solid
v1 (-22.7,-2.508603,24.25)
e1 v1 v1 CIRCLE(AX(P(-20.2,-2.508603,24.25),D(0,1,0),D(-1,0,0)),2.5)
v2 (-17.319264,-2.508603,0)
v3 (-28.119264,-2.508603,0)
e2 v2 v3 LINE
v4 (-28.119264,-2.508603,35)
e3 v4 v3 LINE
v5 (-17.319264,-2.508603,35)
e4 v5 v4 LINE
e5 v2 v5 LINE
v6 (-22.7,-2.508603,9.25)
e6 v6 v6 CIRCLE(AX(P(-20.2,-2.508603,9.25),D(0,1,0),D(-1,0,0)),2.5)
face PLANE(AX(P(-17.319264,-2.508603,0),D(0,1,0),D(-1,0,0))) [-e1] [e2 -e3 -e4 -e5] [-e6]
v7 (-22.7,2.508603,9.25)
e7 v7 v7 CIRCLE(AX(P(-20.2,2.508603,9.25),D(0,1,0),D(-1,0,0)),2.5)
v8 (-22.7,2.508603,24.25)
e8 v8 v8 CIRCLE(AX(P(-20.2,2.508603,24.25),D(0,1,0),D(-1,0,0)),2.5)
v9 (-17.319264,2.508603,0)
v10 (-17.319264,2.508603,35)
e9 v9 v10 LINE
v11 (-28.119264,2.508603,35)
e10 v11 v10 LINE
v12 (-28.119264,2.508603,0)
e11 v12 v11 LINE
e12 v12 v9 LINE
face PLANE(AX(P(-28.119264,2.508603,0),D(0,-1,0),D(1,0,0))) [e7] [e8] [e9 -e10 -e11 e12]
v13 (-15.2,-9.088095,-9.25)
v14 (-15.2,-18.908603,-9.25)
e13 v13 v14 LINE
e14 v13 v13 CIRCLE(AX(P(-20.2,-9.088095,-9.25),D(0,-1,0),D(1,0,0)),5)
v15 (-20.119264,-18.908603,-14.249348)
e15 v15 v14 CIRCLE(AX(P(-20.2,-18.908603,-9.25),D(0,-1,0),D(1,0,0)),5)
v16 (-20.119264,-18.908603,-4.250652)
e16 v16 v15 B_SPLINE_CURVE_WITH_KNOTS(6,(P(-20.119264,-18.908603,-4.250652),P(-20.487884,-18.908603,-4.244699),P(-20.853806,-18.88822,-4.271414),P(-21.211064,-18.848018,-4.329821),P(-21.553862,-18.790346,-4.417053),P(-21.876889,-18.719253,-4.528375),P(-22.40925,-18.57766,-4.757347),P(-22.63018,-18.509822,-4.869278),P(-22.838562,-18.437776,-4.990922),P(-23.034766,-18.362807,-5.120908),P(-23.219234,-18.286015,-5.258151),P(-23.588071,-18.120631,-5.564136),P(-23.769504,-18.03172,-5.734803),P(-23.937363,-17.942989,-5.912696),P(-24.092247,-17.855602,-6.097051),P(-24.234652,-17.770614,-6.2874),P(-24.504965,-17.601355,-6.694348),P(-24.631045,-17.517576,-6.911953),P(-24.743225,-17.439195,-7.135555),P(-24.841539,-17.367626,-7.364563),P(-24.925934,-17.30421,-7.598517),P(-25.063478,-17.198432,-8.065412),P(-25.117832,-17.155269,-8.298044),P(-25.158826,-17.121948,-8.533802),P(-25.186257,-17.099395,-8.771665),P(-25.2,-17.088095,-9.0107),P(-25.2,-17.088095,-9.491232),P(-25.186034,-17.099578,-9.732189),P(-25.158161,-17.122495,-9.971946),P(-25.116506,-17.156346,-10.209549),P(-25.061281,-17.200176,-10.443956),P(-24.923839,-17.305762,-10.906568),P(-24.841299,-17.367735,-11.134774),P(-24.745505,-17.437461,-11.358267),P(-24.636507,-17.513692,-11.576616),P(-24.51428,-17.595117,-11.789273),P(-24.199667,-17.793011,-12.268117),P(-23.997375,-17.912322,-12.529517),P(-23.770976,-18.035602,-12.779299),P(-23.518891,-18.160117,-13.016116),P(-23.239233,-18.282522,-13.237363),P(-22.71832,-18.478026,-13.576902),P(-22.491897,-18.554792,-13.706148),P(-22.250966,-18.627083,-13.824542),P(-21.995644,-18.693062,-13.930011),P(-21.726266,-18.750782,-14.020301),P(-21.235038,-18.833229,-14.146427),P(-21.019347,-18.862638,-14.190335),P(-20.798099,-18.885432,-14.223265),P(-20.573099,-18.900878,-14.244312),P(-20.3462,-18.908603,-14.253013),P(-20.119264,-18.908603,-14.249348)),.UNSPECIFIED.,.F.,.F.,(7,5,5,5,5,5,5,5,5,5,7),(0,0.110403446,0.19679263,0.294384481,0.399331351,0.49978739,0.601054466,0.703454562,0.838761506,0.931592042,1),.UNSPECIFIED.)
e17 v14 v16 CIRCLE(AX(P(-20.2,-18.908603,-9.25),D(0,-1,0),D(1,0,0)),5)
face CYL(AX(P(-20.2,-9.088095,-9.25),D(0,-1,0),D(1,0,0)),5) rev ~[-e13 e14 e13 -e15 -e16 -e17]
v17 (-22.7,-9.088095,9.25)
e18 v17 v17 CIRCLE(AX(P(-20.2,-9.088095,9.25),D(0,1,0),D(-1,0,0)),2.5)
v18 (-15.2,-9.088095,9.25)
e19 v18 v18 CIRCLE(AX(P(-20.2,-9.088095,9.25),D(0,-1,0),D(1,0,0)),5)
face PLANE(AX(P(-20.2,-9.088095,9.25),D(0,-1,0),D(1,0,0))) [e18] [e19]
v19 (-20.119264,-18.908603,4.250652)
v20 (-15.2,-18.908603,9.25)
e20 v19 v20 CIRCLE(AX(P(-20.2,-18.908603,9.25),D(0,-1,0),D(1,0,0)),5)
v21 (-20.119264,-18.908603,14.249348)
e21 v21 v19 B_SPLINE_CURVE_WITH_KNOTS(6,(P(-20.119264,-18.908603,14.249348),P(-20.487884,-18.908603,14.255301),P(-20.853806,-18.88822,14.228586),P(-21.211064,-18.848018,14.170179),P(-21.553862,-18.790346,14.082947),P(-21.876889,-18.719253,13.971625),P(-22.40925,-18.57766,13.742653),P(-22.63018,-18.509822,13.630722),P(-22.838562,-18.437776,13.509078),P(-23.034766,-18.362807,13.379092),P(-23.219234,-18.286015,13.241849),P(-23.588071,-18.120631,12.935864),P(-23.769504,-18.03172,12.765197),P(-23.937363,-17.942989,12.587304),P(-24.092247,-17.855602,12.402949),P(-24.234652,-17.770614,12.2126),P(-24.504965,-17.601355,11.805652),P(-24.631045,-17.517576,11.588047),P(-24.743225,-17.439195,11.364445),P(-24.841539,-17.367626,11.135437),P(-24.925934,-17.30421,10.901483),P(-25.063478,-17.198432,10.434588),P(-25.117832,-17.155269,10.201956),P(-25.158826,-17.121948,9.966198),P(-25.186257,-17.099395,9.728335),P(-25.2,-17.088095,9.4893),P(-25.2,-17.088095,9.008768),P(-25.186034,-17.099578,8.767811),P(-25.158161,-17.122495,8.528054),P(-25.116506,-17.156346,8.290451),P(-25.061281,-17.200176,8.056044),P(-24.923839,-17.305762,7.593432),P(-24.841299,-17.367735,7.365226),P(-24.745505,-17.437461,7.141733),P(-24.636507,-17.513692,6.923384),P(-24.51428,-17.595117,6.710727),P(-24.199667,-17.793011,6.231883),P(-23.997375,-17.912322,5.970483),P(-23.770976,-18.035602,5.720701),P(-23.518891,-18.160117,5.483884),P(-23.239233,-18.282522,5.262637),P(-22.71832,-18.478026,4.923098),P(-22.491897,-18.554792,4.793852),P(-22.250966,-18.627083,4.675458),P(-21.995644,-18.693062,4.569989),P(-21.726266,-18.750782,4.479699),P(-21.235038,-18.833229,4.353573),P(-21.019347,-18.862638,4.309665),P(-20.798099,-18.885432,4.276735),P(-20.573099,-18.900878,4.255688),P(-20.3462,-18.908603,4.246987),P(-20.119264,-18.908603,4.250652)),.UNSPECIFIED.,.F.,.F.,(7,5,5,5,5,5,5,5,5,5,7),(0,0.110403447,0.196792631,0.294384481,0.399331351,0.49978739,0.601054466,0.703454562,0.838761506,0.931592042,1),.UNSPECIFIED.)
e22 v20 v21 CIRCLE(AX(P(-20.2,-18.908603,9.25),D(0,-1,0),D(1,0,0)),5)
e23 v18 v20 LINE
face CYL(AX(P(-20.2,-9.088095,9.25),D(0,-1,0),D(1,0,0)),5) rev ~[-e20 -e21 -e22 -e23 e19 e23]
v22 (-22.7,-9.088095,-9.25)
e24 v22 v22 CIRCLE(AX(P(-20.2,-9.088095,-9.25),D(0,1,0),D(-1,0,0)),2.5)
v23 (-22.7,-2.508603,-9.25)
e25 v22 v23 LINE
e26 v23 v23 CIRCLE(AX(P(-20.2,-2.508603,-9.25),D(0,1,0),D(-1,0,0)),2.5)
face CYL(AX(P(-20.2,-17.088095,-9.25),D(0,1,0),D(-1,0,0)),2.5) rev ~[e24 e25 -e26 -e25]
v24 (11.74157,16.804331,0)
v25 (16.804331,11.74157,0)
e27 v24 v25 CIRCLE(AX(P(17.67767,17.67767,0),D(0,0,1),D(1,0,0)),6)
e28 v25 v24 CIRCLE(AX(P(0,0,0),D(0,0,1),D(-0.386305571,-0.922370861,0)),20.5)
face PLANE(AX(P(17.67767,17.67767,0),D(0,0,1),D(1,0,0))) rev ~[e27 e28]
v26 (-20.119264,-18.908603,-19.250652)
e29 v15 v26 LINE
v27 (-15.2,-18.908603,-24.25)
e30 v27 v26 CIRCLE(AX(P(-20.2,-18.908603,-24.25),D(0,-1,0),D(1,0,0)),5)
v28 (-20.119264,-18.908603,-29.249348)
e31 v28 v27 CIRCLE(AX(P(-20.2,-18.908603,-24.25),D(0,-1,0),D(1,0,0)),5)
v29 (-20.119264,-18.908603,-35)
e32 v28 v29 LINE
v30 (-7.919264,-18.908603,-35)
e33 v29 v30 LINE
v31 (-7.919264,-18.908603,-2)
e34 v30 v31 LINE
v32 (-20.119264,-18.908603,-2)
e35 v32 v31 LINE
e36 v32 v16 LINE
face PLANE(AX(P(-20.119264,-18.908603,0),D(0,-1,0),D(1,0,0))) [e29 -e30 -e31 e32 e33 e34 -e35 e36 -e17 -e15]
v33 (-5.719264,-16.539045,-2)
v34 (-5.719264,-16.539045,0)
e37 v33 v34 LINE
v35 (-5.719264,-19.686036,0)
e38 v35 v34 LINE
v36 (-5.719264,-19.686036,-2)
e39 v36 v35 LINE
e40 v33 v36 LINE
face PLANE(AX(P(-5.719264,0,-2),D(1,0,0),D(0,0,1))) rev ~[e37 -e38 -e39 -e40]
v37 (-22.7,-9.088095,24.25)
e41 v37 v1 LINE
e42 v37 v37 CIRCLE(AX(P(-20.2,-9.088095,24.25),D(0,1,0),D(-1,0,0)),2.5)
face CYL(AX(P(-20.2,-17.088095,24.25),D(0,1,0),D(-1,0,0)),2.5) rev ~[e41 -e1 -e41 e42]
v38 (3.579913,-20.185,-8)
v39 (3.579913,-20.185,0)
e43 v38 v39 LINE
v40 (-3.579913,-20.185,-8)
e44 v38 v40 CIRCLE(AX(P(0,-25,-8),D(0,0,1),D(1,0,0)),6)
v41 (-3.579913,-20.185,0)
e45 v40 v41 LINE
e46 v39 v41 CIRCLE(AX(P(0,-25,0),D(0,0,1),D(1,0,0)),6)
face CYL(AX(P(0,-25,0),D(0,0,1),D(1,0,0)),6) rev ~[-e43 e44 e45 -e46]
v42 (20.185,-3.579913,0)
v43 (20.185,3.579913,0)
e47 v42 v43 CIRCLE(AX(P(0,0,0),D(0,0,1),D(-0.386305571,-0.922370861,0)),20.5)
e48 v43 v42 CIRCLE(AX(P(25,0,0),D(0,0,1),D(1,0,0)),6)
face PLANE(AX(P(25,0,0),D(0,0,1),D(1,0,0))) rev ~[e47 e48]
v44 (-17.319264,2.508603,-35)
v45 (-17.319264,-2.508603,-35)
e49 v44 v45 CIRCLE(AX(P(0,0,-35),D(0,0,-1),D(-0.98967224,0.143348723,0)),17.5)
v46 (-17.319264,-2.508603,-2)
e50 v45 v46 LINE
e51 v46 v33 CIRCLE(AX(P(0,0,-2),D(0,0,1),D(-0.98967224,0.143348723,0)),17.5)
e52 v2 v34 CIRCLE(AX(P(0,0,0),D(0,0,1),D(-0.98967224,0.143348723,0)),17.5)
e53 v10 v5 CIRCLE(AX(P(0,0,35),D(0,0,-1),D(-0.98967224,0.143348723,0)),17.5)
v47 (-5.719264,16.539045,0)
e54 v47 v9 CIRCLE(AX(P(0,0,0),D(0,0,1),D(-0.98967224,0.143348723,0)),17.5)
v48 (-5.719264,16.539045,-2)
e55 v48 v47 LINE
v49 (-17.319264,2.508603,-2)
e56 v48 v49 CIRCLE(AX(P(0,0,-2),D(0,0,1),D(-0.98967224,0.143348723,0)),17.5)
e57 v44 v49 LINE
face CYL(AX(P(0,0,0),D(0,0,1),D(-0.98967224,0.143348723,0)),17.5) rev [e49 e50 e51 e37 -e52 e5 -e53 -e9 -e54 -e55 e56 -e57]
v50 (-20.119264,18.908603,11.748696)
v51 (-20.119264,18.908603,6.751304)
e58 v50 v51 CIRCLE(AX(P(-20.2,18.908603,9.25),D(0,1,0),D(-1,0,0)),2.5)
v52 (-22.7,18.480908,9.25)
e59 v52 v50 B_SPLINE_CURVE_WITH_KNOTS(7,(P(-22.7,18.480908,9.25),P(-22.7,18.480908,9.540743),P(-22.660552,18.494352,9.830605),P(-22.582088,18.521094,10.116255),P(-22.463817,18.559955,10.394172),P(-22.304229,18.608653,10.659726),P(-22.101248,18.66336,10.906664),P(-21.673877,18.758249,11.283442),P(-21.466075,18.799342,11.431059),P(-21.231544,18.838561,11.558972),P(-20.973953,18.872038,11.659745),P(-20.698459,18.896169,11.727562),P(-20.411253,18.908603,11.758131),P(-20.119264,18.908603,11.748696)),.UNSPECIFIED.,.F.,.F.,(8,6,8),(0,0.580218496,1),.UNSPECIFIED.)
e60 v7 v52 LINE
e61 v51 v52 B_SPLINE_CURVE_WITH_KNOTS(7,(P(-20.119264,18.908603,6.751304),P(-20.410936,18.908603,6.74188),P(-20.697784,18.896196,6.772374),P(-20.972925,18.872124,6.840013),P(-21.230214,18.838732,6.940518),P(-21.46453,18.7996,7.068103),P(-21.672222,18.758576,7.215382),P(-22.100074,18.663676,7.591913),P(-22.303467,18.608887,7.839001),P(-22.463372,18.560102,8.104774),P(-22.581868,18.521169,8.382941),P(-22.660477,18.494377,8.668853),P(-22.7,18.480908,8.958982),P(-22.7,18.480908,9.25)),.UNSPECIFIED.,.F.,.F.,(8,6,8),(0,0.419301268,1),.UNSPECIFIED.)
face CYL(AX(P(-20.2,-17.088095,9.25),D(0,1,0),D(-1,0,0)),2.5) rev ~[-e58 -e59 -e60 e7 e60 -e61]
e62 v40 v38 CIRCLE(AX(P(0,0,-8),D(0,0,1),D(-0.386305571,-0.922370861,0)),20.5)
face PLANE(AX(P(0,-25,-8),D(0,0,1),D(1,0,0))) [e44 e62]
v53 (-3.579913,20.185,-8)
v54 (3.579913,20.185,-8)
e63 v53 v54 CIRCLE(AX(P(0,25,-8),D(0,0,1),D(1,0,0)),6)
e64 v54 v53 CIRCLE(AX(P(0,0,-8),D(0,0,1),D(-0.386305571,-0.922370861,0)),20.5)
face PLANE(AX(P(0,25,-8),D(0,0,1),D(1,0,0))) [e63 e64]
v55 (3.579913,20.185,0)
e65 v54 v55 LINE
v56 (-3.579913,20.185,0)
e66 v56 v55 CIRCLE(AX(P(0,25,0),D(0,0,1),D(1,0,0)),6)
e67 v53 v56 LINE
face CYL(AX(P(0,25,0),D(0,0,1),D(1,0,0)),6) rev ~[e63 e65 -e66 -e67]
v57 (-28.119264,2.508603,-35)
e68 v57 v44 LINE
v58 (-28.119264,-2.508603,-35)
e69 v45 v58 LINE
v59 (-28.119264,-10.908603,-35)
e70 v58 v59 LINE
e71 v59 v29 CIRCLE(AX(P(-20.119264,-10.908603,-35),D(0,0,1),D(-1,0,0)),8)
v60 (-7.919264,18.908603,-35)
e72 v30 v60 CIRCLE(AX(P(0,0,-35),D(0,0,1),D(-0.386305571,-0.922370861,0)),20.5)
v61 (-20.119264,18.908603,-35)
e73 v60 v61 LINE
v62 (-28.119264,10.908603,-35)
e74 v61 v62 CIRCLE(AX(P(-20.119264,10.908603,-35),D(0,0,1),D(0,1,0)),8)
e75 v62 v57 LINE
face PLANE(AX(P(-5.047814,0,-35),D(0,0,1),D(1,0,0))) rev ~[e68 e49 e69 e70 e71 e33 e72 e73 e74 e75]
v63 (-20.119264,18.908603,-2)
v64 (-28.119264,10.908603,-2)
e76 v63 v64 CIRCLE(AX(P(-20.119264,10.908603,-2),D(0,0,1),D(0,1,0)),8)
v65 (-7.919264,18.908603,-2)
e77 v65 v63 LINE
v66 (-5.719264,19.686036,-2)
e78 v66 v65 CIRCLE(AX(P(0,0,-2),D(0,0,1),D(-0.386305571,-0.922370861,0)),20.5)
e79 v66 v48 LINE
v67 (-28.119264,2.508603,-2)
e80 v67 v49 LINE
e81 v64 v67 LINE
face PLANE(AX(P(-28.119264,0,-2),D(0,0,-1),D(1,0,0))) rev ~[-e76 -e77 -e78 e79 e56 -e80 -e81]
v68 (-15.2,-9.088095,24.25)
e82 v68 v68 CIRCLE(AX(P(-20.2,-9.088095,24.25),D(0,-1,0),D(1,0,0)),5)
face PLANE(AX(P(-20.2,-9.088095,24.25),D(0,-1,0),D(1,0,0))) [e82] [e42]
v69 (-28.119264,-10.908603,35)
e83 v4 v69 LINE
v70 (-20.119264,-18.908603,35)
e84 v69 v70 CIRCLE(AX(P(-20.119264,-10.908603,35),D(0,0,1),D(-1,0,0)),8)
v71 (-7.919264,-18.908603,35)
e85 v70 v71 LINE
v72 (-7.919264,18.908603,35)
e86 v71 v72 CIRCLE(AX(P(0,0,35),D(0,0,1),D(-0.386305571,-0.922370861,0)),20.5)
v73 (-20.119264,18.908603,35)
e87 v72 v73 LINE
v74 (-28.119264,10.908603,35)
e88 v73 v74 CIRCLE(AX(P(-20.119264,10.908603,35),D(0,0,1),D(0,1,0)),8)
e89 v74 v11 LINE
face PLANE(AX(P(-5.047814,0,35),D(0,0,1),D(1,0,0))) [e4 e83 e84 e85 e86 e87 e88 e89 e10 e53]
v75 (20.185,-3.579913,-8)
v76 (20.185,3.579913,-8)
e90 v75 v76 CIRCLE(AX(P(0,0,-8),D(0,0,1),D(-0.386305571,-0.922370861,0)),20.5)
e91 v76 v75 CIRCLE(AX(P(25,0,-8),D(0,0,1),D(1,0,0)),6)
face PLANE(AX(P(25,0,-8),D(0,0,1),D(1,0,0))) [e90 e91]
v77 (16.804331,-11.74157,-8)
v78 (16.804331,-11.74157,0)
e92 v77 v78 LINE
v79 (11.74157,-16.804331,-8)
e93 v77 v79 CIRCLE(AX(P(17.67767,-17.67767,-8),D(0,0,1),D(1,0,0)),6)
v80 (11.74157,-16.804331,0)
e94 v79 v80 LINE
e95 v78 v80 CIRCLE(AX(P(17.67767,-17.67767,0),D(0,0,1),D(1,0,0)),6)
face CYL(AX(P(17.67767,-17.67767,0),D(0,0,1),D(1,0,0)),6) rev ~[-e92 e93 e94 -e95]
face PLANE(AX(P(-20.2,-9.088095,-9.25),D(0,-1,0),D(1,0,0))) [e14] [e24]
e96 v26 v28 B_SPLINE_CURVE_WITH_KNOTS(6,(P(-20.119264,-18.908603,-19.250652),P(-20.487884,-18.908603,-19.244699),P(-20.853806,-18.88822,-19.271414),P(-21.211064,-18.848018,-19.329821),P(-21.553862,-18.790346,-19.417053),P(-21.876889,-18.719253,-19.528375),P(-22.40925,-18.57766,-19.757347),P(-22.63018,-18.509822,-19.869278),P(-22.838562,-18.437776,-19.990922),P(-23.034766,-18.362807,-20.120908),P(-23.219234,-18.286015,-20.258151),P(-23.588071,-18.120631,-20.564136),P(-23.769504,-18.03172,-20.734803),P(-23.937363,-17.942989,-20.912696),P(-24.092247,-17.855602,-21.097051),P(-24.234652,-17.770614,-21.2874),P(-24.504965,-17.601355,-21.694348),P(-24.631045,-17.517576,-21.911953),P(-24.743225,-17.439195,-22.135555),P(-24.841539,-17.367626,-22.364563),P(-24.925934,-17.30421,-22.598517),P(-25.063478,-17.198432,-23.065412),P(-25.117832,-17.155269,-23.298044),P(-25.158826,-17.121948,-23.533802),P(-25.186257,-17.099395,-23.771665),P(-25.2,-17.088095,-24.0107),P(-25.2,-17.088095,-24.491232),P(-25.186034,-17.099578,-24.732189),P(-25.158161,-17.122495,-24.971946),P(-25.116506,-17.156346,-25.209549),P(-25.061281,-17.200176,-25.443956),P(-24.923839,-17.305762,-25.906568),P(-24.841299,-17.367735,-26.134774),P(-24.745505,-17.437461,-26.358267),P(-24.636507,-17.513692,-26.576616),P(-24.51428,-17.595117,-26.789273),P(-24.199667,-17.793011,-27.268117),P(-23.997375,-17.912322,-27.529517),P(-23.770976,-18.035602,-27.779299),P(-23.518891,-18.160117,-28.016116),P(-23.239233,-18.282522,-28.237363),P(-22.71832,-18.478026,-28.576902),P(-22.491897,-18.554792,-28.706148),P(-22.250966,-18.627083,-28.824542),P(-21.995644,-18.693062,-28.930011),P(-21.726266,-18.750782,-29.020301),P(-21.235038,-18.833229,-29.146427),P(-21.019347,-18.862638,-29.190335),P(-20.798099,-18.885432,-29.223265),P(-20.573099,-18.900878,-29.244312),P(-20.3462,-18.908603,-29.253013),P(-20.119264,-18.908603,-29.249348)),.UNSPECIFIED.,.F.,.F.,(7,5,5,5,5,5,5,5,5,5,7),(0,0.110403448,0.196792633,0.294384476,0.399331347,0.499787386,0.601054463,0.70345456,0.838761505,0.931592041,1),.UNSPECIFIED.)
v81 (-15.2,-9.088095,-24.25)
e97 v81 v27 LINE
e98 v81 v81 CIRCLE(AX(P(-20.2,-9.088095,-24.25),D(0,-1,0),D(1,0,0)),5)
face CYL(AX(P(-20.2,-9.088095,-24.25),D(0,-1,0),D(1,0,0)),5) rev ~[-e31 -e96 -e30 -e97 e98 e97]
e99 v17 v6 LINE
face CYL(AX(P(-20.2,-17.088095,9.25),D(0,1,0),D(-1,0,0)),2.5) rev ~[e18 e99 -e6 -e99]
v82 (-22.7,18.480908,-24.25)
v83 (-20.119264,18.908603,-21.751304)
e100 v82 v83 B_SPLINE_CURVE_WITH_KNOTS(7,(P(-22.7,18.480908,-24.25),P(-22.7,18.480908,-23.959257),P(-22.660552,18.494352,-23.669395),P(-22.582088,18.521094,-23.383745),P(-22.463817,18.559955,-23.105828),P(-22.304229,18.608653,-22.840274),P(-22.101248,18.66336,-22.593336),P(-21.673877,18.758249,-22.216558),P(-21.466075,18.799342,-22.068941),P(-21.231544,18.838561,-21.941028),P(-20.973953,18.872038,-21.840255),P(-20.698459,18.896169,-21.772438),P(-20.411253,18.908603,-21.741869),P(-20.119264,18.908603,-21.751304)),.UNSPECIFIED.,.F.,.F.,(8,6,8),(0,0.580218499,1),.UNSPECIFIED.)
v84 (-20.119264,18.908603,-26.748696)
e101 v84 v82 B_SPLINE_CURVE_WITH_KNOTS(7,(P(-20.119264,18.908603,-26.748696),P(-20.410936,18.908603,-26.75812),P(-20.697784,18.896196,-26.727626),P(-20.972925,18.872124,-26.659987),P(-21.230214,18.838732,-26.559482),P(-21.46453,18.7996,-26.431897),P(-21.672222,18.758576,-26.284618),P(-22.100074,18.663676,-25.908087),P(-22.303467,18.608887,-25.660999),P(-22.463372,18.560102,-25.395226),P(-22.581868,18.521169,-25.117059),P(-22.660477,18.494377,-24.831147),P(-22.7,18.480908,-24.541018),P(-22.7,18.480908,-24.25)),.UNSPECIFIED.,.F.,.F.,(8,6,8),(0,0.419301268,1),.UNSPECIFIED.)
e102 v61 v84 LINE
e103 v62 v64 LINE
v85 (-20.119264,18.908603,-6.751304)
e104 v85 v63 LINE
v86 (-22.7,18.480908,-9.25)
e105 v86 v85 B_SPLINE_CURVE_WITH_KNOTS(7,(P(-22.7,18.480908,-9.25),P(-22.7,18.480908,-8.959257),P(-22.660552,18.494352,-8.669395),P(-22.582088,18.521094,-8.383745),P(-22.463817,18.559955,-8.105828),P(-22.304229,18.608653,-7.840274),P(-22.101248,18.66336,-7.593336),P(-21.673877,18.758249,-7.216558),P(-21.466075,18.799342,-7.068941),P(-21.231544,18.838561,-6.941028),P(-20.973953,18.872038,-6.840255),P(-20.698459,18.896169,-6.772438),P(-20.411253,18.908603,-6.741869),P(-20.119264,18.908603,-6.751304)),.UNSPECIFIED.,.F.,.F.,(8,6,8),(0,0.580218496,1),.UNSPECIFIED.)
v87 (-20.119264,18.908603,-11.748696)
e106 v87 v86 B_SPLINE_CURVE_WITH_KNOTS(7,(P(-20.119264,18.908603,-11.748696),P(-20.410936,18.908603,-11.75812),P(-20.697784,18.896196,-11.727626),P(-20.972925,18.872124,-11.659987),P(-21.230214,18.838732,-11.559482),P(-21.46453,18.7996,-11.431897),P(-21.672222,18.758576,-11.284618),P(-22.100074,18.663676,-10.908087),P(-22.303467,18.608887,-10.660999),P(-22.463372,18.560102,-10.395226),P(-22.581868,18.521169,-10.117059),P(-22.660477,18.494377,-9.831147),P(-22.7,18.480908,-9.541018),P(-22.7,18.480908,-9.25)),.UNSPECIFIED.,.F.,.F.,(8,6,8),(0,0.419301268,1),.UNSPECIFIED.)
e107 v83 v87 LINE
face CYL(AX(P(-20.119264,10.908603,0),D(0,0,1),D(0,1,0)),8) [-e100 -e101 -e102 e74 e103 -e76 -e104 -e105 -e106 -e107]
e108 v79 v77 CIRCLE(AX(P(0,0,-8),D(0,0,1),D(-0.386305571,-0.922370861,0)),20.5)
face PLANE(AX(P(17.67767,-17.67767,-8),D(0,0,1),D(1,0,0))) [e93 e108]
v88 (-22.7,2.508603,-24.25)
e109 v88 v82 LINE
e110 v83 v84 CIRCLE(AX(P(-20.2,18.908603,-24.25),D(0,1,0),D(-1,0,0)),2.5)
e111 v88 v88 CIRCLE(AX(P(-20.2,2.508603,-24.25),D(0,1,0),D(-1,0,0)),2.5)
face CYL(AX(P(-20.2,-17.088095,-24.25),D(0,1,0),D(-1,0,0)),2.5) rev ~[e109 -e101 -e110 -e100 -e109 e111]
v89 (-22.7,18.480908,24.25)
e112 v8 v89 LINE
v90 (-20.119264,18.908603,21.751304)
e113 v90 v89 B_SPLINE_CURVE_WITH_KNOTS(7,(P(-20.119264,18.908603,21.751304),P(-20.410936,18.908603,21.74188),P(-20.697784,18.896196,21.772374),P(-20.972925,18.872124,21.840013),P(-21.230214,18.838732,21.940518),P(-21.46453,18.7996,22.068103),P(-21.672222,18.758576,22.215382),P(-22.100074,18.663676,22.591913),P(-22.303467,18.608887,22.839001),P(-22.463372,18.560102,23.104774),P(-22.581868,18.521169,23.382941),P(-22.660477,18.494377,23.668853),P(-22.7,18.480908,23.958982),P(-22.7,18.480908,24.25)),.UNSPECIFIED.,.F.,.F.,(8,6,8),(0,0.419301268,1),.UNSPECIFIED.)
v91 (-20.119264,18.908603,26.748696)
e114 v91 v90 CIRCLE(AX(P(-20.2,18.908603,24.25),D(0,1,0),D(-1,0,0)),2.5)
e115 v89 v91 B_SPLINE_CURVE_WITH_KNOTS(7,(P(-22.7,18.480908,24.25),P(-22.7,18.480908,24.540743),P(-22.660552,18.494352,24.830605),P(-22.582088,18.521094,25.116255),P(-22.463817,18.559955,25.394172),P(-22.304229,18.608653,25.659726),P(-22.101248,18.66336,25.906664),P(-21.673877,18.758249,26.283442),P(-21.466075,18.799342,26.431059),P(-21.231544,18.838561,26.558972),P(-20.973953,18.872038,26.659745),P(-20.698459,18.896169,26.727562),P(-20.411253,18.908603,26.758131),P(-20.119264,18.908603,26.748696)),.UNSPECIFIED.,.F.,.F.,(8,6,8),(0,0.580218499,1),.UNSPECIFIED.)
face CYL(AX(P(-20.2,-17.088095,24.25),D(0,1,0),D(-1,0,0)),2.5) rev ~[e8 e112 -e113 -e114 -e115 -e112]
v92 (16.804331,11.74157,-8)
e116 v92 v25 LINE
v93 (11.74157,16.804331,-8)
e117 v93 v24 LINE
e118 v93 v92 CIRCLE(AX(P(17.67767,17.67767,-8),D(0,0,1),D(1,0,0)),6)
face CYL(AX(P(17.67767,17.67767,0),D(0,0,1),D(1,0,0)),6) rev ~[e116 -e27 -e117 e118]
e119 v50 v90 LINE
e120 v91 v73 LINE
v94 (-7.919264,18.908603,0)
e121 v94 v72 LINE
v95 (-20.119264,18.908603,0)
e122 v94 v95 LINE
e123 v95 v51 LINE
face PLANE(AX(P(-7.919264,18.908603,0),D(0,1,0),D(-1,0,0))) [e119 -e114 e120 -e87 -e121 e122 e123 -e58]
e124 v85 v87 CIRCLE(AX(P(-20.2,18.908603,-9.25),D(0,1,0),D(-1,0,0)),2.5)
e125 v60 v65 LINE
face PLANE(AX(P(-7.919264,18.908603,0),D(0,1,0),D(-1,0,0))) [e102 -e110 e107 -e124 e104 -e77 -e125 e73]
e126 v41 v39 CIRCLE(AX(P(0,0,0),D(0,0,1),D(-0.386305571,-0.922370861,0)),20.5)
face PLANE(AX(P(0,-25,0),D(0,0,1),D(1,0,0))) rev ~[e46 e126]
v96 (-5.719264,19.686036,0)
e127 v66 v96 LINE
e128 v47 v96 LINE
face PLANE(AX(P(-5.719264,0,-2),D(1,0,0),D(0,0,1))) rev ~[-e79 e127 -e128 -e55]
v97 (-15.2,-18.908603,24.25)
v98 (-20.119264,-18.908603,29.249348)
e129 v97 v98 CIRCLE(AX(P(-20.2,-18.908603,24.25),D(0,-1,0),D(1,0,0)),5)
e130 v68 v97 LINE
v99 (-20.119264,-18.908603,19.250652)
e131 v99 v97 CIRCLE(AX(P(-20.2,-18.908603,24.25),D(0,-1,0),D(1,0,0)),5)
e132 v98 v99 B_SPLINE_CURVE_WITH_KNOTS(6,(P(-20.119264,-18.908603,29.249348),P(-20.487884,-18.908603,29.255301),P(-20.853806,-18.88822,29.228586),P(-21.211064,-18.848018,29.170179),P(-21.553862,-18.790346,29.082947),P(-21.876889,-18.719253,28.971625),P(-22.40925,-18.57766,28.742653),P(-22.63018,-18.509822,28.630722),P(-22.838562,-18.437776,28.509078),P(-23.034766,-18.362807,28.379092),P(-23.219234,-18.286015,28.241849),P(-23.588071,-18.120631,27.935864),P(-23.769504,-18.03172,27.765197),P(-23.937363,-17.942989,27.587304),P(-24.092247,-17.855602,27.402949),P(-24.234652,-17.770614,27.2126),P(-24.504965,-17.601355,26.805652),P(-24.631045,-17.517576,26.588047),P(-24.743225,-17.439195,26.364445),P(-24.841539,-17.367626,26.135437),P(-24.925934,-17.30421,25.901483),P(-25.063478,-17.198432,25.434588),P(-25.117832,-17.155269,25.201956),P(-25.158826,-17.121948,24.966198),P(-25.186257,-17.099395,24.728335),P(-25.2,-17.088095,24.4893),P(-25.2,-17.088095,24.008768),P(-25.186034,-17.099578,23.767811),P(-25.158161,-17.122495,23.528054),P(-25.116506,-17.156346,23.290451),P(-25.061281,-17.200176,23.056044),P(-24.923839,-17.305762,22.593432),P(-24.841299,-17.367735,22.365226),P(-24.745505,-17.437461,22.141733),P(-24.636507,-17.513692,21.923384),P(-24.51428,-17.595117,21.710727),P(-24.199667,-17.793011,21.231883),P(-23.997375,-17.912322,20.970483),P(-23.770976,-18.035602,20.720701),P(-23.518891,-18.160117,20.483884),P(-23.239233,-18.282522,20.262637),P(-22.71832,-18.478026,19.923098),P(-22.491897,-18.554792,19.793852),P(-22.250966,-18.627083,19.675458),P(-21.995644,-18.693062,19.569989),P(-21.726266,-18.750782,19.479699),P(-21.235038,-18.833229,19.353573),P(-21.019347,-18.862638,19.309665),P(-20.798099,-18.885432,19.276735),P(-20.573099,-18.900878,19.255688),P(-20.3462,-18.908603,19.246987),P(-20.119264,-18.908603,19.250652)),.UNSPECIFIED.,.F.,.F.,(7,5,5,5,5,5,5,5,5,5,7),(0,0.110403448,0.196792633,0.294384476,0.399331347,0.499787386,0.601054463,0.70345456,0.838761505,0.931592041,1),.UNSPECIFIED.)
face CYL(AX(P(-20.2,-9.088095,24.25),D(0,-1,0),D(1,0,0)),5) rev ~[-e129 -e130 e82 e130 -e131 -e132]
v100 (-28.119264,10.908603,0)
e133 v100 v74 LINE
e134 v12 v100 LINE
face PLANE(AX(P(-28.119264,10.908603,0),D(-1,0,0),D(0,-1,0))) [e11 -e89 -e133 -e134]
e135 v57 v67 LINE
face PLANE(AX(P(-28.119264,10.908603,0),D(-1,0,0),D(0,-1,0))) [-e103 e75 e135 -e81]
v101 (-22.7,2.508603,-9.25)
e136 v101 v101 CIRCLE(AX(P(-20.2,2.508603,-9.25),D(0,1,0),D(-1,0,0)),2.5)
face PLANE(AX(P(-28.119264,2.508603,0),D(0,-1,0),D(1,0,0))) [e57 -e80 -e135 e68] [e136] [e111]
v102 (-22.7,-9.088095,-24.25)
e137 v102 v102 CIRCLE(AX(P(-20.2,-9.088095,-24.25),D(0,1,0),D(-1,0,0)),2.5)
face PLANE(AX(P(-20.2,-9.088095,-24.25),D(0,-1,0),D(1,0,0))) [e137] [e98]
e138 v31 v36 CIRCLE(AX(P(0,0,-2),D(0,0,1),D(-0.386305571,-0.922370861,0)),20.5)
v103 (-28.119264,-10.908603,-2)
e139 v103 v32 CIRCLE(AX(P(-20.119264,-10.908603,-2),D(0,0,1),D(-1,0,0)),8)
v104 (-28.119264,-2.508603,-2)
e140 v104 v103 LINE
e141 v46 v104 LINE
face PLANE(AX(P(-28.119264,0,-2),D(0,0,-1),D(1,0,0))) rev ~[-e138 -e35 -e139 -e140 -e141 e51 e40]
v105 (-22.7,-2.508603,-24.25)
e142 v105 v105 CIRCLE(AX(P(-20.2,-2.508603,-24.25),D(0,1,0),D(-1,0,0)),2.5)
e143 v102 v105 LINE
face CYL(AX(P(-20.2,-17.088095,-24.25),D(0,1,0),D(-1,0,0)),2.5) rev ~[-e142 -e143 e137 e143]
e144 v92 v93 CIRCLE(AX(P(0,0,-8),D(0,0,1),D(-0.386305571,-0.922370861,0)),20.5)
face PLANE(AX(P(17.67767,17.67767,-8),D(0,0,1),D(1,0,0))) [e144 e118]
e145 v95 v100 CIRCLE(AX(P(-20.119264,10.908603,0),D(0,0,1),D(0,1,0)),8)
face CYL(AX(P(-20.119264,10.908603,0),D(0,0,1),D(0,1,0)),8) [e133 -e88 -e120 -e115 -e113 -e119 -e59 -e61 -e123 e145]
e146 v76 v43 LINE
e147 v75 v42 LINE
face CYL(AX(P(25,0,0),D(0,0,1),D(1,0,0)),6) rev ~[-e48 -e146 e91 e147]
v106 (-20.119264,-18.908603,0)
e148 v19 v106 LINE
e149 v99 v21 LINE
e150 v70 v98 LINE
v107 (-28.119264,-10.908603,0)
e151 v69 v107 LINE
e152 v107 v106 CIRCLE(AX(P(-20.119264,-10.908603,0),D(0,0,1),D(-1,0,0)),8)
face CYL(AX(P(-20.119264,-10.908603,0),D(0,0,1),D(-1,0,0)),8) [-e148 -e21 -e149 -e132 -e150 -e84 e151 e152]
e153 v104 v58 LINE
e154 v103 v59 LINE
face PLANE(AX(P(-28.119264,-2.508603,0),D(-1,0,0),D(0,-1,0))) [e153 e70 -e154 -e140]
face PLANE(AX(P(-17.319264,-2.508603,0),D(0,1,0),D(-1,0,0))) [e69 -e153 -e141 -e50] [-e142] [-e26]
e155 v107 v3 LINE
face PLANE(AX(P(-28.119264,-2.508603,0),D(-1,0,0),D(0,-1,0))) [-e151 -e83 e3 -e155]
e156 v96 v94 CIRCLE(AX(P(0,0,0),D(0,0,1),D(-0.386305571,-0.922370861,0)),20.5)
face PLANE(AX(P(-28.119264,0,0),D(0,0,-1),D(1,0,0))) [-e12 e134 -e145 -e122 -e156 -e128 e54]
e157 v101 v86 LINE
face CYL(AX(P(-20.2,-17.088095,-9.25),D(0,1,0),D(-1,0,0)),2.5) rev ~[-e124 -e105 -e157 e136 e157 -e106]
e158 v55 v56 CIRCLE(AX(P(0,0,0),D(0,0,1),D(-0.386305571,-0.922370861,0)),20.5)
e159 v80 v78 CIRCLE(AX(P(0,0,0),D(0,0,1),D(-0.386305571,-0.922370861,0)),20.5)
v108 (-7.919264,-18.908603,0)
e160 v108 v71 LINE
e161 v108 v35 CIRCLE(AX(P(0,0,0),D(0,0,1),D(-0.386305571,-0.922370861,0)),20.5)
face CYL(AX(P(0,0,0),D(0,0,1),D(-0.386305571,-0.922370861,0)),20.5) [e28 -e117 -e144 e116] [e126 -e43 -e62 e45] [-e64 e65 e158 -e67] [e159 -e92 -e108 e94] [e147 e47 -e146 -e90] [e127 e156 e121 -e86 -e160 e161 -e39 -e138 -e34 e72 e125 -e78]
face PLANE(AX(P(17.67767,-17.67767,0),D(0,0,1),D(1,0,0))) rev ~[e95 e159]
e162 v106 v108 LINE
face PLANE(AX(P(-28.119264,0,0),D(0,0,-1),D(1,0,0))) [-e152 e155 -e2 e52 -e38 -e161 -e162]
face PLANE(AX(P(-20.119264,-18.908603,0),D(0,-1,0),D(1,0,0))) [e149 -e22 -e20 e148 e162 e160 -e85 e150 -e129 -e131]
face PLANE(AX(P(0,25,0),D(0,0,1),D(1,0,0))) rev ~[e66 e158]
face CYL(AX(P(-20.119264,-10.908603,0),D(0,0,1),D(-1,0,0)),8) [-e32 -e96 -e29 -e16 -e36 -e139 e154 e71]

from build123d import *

# Parameters (mm, degrees)
F1_DEPTH       = 35
F3_D           = 5
F3_START       = 1.8205079
F3_CBORE_D     = 10
F3_CBORE_DEPTH = 8
F4_W           = 22.4
F4_H           = 2
F5_DEPTH       = 25
F6_R           = 6
F7_DEPTH       = 8


with BuildPart() as f1:
    # F0 (on Top) → F1 (new body, symmetric)
    with BuildSketch(Plane.XY):
        with BuildLine():
            Line((-20.1192642082, -18.9086026559), (-7.9192642082, -18.9086026559))
            ThreePointArc((-7.9192642082, -18.9086026559), (20.5, 0), (-7.9192642082, 18.9086026559))
            Line((-7.9192642082, 18.9086026559), (-20.1192642082, 18.9086026559))
            ThreePointArc((-20.1192642082, 18.9086026559), (-25.7761184577, 16.5654569054), (-28.1192642082, 10.9086026559))
            Line((-28.1192642082, 10.9086026559), (-28.1192642082, 2.5086026559))
            Line((-28.1192642082, 2.5086026559), (-17.3192642082, 2.5086026559))
            ThreePointArc((-17.3192642082, 2.5086026559), (17.5, 0), (-17.3192642082, -2.5086026559))
            Line((-17.3192642082, -2.5086026559), (-28.1192642082, -2.5086026559))
            Line((-28.1192642082, -2.5086026559), (-28.1192642082, -10.9086026559))
            ThreePointArc((-28.1192642082, -10.9086026559), (-25.7761184577, -16.5654569054), (-20.1192642082, -18.9086026559))
        make_face()
    extrude(amount=F1_DEPTH, both=True)

    # F3 (through all)
    # its depths count from where the whole tool has entered the part; down to there all is cleared
    with Locations(Plane.XZ.offset(18.9086026559).offset(-F3_START)):
        with Locations((-20.2, -24.25), (-20.2, -9.25), (-20.2, 9.25), (-20.2, 24.25)):
            CounterBoreHole(F3_D / 2, F3_CBORE_D / 2, F3_CBORE_DEPTH)

    # F4 (on Front) → F5 (cut, symmetric)
    with BuildSketch(Plane.XZ):
        with Locations((-16.9192642082, -1)):
            Rectangle(F4_W, F4_H)
    extrude(amount=F5_DEPTH, both=True, mode=Mode.SUBTRACT)

    # F6 (on Top) → F7 (cut)
    with BuildSketch(Plane.XY):
        with Locations((0, -25)):
            Circle(F6_R)
        with Locations((17.6776695297, -17.6776695297)):
            Circle(F6_R)
        with Locations((25, 0)):
            Circle(F6_R)
        with Locations((17.6776695297, 17.6776695297)):
            Circle(F6_R)
        with Locations((0, 25)):
            Circle(F6_R)
    extrude(amount=-F7_DEPTH, mode=Mode.SUBTRACT)


solid = f1.part
